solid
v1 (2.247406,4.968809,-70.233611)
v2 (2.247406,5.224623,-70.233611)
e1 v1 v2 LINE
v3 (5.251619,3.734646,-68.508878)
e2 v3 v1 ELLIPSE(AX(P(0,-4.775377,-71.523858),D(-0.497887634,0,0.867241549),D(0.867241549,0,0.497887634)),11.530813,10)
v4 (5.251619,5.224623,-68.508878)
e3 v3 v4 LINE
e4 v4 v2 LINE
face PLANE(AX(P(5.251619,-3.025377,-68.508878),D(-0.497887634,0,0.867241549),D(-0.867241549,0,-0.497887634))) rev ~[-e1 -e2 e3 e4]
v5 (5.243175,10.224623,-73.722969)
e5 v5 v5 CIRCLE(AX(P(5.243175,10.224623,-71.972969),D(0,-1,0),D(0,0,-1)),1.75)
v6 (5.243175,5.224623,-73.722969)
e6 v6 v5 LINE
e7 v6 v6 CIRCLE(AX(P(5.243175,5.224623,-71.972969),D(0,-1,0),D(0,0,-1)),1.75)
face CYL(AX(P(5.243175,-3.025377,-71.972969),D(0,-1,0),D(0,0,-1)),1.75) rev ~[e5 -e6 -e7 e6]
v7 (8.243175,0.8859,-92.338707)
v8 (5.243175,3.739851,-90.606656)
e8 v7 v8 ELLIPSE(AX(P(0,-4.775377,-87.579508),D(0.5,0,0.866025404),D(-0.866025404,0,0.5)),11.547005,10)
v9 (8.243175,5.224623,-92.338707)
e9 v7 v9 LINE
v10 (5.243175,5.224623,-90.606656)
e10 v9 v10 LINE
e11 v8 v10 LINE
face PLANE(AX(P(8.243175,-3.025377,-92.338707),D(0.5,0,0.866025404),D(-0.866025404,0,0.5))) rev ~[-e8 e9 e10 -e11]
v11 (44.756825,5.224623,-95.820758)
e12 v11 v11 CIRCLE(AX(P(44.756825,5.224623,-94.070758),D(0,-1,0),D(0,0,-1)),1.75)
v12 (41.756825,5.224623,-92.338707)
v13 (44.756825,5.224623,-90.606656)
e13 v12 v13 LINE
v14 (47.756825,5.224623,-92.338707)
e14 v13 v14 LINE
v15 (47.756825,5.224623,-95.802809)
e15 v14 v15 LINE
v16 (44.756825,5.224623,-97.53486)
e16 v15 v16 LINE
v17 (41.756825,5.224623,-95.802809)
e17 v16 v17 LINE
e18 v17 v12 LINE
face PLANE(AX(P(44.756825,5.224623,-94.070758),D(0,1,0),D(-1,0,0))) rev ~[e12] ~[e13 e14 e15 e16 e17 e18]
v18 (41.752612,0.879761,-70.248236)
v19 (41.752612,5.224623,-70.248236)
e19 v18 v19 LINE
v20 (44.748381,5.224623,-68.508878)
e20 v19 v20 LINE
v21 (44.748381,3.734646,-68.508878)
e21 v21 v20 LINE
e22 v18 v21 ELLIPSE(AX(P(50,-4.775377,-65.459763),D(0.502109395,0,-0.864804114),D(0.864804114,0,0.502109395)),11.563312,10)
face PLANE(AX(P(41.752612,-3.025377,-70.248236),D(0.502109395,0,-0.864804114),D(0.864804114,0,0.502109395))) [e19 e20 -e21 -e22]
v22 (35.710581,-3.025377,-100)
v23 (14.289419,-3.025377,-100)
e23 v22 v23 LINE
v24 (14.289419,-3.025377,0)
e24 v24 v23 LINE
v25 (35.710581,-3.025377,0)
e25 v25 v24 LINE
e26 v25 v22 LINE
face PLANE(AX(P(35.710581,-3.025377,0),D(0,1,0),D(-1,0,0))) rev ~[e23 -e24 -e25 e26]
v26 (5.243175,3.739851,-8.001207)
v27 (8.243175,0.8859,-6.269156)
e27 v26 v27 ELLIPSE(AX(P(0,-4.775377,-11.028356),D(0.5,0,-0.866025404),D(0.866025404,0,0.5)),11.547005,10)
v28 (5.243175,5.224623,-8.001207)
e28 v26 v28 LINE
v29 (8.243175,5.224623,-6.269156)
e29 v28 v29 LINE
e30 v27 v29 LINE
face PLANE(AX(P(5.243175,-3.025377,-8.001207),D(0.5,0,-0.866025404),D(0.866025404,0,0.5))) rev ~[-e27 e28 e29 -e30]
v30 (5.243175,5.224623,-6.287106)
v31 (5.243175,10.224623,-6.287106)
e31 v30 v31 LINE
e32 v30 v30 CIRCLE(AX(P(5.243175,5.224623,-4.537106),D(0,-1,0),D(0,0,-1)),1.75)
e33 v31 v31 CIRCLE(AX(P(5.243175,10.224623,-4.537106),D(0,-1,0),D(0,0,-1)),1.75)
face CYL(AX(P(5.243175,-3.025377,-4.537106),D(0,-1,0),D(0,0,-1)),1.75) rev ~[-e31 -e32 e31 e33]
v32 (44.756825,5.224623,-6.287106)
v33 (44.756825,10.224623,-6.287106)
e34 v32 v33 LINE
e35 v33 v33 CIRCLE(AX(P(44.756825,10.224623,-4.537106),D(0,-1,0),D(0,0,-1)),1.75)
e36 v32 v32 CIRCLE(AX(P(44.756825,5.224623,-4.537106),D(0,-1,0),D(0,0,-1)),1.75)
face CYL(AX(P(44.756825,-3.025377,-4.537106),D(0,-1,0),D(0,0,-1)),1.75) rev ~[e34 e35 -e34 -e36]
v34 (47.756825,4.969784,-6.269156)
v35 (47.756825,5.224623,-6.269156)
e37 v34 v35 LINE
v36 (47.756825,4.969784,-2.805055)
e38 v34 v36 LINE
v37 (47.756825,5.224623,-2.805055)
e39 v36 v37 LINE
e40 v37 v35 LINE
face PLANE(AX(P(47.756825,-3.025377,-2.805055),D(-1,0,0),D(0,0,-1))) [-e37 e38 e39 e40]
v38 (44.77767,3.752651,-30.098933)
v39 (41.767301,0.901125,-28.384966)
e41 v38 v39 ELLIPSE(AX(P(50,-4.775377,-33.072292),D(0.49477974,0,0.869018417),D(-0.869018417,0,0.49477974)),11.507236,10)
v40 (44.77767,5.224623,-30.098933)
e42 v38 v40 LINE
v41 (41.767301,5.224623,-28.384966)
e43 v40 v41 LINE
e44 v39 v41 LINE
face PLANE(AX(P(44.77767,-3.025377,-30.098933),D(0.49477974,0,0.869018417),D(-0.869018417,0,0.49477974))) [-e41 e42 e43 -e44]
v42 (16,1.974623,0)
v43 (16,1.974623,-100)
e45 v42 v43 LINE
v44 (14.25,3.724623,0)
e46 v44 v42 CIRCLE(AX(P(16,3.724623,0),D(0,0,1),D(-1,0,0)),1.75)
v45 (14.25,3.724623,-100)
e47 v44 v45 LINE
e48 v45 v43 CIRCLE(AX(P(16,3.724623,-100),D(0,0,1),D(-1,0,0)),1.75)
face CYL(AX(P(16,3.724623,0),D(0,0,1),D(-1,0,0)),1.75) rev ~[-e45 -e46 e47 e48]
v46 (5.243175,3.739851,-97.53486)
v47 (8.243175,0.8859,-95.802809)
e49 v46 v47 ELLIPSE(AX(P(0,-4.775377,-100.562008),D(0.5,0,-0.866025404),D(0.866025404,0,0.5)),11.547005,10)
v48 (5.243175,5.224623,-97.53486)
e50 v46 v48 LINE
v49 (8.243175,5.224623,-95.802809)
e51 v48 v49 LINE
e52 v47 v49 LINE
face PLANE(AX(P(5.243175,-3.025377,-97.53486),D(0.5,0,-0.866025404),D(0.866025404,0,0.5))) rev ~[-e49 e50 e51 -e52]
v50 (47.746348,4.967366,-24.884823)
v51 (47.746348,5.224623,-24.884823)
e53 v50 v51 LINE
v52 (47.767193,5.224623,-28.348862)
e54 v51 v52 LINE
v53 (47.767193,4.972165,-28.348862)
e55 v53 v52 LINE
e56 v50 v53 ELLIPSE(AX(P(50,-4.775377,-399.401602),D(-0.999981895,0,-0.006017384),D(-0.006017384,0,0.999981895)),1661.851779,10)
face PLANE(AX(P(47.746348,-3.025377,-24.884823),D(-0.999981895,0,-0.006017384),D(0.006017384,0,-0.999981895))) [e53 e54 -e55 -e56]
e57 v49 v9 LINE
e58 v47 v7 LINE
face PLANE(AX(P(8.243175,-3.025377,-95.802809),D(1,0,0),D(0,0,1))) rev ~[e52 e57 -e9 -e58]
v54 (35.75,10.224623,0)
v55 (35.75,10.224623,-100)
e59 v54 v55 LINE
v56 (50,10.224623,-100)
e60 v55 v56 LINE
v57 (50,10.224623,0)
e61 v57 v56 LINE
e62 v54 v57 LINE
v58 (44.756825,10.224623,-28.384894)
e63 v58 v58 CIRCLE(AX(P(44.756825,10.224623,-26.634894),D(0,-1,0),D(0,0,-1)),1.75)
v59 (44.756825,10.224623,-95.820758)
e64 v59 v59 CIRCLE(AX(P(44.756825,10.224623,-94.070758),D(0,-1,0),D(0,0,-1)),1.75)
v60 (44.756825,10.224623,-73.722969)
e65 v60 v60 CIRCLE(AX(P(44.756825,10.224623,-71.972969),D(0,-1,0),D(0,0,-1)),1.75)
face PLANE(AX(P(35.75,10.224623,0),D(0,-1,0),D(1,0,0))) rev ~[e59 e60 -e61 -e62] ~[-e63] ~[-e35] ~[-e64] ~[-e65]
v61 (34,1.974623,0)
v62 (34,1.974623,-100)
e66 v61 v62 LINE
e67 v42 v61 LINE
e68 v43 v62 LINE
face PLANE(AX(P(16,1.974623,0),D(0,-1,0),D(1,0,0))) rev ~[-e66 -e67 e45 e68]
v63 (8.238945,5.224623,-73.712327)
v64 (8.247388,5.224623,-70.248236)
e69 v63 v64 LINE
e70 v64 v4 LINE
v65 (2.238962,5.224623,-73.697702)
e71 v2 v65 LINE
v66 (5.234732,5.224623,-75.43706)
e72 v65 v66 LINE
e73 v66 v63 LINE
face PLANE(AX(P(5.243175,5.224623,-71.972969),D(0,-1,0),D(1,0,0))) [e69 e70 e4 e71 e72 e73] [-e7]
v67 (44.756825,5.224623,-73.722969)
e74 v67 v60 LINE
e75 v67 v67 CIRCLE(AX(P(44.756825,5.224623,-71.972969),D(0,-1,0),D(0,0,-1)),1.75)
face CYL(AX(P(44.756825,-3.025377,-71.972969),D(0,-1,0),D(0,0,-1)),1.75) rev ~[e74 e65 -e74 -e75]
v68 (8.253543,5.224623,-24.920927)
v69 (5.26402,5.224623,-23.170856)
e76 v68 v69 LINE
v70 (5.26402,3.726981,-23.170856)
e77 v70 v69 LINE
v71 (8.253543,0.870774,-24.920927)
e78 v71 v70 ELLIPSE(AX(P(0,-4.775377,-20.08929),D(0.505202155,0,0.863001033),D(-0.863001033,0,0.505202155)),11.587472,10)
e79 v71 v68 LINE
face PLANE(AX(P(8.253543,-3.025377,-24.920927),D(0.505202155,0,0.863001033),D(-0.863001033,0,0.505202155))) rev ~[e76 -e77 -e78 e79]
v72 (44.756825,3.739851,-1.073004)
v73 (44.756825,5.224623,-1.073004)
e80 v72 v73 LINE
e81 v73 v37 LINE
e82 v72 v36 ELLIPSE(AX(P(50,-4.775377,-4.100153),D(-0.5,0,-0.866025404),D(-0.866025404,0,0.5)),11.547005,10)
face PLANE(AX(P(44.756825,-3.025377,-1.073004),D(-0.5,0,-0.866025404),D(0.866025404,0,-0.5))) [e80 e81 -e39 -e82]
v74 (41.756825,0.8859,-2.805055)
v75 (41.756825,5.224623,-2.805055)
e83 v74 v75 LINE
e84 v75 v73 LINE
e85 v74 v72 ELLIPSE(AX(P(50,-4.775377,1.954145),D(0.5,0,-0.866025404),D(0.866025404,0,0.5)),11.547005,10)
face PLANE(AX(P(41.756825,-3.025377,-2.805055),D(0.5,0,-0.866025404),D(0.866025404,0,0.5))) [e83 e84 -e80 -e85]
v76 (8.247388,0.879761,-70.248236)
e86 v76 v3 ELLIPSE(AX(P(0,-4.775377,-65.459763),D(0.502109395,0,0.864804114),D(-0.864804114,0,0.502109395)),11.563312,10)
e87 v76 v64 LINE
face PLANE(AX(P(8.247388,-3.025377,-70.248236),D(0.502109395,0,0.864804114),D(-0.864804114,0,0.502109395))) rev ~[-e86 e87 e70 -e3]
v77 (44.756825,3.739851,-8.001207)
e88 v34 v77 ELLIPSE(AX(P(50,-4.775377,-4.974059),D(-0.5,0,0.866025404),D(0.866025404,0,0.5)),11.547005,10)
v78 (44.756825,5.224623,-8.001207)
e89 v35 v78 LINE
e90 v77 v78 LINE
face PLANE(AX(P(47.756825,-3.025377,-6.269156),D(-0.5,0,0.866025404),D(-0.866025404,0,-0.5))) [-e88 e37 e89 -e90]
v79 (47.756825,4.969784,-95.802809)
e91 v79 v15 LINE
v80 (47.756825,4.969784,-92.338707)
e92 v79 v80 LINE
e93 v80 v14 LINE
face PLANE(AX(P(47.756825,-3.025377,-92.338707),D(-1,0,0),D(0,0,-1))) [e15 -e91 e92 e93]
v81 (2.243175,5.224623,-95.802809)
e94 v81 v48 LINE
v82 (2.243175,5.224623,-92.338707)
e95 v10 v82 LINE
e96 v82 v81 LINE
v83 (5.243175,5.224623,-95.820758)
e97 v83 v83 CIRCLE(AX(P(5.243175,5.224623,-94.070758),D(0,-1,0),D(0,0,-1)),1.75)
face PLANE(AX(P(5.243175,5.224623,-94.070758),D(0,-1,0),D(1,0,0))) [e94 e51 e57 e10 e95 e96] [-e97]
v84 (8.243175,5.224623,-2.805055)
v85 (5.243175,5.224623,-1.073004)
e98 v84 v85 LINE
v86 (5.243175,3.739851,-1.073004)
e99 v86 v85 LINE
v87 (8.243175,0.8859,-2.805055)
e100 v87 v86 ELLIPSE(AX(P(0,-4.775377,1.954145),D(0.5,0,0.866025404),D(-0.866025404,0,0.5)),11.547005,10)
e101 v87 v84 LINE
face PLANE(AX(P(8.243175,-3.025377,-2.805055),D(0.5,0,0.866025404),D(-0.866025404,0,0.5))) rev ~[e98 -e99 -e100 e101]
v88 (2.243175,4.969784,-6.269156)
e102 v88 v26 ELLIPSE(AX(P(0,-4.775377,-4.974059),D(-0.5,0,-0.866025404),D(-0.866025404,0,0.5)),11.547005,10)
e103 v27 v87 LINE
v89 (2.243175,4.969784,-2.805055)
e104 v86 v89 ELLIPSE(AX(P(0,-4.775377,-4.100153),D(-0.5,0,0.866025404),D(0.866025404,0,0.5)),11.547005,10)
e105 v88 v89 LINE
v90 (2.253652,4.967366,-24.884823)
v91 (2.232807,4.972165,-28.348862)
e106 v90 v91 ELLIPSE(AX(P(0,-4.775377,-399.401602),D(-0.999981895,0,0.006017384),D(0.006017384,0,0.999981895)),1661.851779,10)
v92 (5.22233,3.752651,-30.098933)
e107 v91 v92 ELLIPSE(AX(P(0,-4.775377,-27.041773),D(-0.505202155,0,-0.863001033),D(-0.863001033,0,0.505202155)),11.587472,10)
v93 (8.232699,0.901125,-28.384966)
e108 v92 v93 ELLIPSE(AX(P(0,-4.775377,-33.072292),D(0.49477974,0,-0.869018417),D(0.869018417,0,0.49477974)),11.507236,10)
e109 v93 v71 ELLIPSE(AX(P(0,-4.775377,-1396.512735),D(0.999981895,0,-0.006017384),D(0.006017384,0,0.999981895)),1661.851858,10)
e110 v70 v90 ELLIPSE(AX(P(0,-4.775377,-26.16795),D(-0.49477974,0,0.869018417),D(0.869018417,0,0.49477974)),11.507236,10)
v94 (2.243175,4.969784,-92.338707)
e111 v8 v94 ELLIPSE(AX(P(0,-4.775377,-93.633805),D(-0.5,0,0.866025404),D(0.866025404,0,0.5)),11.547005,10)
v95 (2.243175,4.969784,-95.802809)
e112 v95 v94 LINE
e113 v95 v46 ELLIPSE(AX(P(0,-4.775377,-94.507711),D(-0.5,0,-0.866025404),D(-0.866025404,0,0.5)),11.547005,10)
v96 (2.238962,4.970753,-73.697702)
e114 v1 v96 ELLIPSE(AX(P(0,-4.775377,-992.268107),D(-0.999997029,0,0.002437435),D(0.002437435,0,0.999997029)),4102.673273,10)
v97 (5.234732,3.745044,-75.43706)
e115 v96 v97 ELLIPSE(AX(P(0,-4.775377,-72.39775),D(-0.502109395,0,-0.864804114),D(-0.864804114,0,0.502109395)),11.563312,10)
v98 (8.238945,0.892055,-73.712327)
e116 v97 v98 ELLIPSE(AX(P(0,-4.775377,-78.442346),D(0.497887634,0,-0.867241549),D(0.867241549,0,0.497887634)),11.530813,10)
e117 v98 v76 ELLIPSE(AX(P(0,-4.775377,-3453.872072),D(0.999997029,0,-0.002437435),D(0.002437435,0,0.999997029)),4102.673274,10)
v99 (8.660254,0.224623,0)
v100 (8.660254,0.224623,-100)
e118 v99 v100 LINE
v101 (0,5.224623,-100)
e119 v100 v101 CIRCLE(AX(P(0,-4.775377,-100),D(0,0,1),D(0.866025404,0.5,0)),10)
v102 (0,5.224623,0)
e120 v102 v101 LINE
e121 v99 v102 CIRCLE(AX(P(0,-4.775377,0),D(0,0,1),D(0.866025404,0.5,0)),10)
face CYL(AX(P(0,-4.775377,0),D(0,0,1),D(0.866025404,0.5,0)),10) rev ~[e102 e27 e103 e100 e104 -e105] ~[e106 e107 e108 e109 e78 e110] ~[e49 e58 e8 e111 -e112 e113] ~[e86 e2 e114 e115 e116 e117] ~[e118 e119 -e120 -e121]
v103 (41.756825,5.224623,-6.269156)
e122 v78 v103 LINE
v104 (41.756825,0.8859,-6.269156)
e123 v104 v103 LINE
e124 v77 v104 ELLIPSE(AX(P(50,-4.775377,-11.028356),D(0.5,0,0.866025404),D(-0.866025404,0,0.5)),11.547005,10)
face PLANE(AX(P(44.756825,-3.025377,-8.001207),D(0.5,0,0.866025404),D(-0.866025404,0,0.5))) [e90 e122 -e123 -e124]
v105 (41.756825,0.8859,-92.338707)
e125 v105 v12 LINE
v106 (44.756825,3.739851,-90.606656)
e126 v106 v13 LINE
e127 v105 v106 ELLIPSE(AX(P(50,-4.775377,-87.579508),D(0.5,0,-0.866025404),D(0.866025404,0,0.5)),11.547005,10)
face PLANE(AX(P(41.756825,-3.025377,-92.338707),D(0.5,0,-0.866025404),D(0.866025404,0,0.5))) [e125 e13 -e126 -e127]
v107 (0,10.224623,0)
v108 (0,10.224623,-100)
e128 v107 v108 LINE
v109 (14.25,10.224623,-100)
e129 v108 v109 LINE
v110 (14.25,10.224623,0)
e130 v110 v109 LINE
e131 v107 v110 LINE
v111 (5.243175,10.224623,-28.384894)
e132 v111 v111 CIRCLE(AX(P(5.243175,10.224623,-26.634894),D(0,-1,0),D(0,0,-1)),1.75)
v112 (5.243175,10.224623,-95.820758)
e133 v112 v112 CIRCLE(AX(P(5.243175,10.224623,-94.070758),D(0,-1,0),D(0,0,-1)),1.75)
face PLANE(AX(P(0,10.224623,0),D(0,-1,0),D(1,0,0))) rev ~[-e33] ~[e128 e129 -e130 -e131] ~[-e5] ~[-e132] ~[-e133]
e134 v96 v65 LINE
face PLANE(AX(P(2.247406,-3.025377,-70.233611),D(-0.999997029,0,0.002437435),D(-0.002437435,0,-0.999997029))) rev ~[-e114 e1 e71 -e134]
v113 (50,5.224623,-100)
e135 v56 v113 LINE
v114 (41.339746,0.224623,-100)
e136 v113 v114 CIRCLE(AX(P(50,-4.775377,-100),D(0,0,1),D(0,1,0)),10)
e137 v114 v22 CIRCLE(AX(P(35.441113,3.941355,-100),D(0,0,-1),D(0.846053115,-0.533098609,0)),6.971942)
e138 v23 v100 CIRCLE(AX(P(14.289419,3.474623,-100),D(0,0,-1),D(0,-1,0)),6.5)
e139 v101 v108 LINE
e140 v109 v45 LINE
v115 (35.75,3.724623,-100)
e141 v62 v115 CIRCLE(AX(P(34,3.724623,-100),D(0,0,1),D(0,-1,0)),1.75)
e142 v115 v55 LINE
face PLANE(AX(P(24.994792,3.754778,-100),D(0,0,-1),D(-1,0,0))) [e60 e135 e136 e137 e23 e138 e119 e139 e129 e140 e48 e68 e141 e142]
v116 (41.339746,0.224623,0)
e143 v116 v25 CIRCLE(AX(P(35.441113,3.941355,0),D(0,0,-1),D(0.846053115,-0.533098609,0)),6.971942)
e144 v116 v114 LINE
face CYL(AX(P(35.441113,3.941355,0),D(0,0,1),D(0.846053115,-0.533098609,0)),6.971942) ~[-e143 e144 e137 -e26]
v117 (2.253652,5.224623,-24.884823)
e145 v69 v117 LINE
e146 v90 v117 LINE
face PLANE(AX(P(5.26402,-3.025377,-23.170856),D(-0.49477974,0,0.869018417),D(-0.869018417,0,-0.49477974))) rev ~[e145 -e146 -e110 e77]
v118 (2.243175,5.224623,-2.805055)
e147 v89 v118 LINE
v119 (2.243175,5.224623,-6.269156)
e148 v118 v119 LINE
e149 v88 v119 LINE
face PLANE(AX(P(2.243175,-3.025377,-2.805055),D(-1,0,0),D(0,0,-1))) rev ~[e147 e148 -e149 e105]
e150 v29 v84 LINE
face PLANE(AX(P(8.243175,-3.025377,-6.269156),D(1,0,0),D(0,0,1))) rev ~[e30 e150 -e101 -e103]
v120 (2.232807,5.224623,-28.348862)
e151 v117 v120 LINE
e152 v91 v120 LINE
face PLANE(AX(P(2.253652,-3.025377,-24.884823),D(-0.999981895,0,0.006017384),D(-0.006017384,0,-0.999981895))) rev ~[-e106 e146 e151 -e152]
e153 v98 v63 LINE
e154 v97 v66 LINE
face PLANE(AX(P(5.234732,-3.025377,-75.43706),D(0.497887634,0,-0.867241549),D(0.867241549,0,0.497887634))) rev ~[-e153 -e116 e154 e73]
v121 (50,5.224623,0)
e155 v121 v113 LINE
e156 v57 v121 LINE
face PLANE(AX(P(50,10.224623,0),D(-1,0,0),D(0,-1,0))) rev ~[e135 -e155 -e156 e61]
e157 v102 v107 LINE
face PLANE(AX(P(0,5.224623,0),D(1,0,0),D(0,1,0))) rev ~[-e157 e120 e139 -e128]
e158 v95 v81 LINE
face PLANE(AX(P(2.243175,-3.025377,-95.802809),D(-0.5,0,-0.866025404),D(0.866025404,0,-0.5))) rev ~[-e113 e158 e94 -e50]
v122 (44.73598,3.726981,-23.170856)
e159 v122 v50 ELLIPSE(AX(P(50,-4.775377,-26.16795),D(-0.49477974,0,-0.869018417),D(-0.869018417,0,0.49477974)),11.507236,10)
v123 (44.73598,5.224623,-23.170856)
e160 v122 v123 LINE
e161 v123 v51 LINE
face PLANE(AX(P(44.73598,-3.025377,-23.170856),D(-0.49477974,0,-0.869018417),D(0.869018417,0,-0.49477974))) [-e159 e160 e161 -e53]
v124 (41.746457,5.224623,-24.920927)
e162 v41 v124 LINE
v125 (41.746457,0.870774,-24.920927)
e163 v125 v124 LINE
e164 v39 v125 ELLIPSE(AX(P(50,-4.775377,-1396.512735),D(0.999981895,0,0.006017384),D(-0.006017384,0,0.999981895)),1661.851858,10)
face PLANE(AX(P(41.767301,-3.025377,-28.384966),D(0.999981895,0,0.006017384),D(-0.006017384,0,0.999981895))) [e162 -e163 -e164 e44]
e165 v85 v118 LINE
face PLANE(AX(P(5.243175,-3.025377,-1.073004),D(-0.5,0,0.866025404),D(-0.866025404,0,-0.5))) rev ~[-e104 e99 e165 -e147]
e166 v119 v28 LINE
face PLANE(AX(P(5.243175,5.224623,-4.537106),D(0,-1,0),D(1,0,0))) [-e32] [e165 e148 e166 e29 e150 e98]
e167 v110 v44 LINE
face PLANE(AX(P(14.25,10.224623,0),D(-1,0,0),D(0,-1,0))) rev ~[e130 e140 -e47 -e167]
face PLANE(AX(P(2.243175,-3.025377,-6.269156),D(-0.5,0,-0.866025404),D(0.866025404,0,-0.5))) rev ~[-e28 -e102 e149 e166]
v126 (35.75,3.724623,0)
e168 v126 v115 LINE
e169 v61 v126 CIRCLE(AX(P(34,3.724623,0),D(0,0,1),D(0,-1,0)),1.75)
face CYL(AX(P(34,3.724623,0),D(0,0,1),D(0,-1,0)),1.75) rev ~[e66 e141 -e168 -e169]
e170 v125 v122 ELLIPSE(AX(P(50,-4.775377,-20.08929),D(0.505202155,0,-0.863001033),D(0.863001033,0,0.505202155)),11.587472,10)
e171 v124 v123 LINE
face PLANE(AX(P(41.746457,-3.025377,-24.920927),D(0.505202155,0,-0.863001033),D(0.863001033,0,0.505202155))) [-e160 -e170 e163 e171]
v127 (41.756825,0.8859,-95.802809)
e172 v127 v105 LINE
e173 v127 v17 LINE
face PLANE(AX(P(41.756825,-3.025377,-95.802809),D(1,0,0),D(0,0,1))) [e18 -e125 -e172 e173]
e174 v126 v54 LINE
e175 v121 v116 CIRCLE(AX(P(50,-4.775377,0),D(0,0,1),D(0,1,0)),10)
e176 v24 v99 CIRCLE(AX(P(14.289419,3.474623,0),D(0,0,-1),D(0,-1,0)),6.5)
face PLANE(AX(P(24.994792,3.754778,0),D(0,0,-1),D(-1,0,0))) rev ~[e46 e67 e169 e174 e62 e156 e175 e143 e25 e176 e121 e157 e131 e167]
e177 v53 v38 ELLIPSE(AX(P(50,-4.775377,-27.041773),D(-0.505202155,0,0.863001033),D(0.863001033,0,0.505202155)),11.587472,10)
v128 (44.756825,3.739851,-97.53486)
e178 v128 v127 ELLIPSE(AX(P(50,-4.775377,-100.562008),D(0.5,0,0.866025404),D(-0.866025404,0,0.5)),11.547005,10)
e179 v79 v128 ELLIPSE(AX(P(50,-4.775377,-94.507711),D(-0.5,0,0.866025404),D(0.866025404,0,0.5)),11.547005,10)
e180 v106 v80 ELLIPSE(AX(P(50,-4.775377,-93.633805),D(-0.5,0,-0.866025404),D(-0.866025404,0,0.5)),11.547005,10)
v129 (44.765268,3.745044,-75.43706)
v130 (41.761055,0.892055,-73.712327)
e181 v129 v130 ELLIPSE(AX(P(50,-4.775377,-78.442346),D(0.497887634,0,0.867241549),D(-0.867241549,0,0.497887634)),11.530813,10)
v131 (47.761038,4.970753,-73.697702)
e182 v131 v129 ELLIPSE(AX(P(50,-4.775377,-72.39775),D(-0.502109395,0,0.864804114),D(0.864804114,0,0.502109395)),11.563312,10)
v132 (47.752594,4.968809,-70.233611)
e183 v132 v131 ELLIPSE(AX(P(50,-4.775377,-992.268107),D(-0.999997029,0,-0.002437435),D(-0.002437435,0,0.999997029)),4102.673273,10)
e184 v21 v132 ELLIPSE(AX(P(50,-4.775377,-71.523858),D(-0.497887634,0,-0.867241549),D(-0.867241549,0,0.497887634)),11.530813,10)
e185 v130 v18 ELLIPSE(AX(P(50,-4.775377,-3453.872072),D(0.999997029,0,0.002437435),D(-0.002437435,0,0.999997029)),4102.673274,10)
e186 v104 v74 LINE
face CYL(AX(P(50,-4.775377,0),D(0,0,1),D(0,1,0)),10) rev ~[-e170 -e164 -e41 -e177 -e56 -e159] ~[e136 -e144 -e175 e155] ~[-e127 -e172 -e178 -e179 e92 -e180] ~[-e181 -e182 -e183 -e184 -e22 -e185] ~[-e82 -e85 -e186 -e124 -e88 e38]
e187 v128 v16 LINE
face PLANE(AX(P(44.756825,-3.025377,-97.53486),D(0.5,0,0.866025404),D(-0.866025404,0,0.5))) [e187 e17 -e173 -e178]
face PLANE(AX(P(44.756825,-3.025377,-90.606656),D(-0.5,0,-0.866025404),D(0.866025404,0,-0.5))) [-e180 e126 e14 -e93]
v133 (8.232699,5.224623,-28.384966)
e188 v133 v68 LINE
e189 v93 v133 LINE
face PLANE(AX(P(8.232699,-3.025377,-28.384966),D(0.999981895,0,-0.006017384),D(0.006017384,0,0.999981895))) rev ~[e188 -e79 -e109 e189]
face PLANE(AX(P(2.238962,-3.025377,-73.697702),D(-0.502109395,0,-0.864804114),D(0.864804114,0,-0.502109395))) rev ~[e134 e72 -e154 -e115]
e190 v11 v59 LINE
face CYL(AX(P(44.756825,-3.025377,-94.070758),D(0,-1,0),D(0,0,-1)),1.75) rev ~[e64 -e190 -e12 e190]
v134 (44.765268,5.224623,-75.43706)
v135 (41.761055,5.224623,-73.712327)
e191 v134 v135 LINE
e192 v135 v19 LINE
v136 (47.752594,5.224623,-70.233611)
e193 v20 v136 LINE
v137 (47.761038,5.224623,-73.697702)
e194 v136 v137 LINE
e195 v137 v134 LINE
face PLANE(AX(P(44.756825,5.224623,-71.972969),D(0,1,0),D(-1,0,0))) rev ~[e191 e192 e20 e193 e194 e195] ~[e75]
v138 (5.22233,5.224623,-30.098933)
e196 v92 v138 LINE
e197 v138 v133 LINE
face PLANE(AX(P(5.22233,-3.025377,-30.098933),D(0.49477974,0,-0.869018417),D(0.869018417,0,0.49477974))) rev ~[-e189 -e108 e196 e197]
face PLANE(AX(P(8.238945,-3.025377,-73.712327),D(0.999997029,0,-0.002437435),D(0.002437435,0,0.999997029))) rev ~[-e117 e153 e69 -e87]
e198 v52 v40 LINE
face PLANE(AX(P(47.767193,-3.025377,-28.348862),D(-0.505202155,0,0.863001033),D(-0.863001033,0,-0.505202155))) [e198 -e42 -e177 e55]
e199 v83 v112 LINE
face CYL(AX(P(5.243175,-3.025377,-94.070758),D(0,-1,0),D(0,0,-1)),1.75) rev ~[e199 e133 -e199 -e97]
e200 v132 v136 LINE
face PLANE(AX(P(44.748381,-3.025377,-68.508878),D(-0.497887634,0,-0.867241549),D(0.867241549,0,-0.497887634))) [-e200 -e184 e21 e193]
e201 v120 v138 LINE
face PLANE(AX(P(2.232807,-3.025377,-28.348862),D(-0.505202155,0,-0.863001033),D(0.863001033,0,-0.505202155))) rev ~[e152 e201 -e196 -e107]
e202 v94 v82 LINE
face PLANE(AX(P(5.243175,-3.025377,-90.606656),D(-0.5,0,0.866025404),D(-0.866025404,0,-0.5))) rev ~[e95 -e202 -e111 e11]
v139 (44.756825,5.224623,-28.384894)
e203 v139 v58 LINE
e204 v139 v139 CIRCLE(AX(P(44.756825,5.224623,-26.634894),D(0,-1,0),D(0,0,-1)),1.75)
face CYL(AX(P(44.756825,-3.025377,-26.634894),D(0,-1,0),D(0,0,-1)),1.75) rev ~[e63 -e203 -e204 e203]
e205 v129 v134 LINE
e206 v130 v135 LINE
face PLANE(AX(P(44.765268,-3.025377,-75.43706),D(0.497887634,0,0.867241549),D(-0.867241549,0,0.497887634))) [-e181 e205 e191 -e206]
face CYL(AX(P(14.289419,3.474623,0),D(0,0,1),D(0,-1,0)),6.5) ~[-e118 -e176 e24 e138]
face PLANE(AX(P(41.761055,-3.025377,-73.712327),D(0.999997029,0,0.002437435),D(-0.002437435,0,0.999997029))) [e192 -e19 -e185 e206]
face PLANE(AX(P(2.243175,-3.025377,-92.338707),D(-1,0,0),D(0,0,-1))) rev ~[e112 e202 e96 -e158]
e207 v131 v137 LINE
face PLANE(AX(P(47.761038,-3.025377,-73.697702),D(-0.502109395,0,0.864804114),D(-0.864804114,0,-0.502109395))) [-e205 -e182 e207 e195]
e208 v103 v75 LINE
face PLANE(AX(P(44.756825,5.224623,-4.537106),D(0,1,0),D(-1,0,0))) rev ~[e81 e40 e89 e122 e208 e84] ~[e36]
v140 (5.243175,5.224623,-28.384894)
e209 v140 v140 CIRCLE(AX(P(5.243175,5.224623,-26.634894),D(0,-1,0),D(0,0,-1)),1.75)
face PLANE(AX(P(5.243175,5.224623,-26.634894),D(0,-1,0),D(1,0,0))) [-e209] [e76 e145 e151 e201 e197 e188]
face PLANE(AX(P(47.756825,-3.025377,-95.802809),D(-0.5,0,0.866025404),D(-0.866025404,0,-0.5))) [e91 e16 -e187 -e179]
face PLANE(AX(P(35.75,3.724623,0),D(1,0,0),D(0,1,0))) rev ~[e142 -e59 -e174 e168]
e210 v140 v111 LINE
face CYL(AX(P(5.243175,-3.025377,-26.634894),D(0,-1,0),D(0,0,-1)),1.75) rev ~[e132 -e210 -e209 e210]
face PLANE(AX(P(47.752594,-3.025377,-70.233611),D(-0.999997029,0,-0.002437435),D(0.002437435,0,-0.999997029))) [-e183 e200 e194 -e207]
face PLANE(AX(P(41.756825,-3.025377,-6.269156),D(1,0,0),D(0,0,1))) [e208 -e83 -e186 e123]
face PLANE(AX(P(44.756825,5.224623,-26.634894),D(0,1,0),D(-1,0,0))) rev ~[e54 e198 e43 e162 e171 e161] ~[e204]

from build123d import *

# Parameters (mm, degrees)
BOSS_EXTRUDE1_DEPTH = 100
SKETCH2_R           = 1.75
CUT_EXTRUDE1_DEPTH  = 113.585800614
CUT_EXTRUDE2_DEPTH  = 8.25


with BuildPart() as part:
    # Sketch1 → Boss-Extrude1 (new body)
    with BuildSketch(Plane.XY):
        with BuildLine():
            Line((50, 10.224622738), (50, 5.224622738))
            ThreePointArc((50, 5.224622738), (45, 3.884876776), (41.339745962, 0.224622738))
            ThreePointArc((41.339745962, 0.224622738), (38.927083678, -2.096523604), (35.710580838, -3.025377262))
            Line((35.710580838, -3.025377262), (14.289419162, -3.025377262))
            ThreePointArc((14.289419162, -3.025377262), (11.039419162, -2.154542386), (8.660254038, 0.224622738))
            ThreePointArc((8.660254038, 0.224622738), (5, 3.884876776), (0, 5.224622738))
            Line((0, 5.224622738), (0, 10.224622738))
            Line((0, 10.224622738), (14.25, 10.224622738))
            Line((14.25, 10.224622738), (14.25, 3.724622738))
            ThreePointArc((14.25, 3.724622738), (14.762563133, 2.487185871), (16, 1.974622738))
            Line((16, 1.974622738), (34, 1.974622738))
            ThreePointArc((34, 1.974622738), (35.237436867, 2.487185871), (35.75, 3.724622738))
            Line((35.75, 3.724622738), (35.75, 10.224622738))
            Line((35.75, 10.224622738), (50, 10.224622738))
        make_face()
    extrude(amount=-BOSS_EXTRUDE1_DEPTH)

    # Sketch2 → Cut-Extrude1 (cut, through all)
    with BuildSketch(Plane.XZ.offset(3.025377262)):
        with Locations(Location((44.756824718, -26.634894448, 0), (0, 0, 270))):
            Circle(SKETCH2_R)
        with Locations(Location((44.756824718, -4.537105649, 0), (0, 0, 270))):
            Circle(SKETCH2_R)
        with Locations(Location((44.756824718, -71.972969116, 0), (0, 0, 270))):
            Circle(SKETCH2_R)
        with Locations(Location((44.756824718, -94.070757915, 0), (0, 0, 270))):
            Circle(SKETCH2_R)
        with Locations(Location((5.243175282, -71.972969116, 0), (0, 0, 270))):
            Circle(SKETCH2_R)
        with Locations(Location((5.243175282, -94.070757915, 0), (0, 0, 270))):
            Circle(SKETCH2_R)
        with Locations(Location((5.243175282, -26.634894448, 0), (0, 0, 270))):
            Circle(SKETCH2_R)
        with Locations(Location((5.243175282, -4.537105649, 0), (0, 0, 270))):
            Circle(SKETCH2_R)
    extrude(amount=-CUT_EXTRUDE1_DEPTH, mode=Mode.SUBTRACT)

    # Sketch3 → Cut-Extrude2 (cut)
    with BuildSketch(Plane.XZ.offset(3.025377262)):
        Polygon((8.243175282, -2.805054841), (5.243175282, -1.073004033), (2.243175282, -2.805054841), (2.243175282, -6.269156456), (5.243175282, -8.001207264), (8.243175282, -6.269156456), align=None)
        Polygon((5.264020111, -23.170855549), (2.25365201, -24.884822847), (2.232807181, -28.348861746), (5.222330453, -30.098933346), (8.232698554, -28.384966048), (8.253543382, -24.920927149), align=None)
        Polygon((41.746456618, -24.920927149), (44.735979889, -23.170855549), (47.74634799, -24.884822847), (47.767192819, -28.348861746), (44.777669547, -30.098933346), (41.767301446, -28.384966048), align=None)
        Polygon((41.756824718, -6.269156456), (41.756824718, -2.805054841), (44.756824718, -1.073004033), (47.756824718, -2.805054841), (47.756824718, -6.269156456), (44.756824718, -8.001207264), align=None)
        Polygon((41.756824718, -92.338707108), (44.756824718, -90.6066563), (47.756824718, -92.338707108), (47.756824718, -95.802808723), (44.756824718, -97.534859531), (41.756824718, -95.802808723), align=None)
        Polygon((5.251618805, -68.508877791), (2.247405955, -70.233611149), (2.238962432, -73.697702473), (5.234731759, -75.437060441), (8.238944609, -73.712327084), (8.247388132, -70.248235759), align=None)
        Polygon((5.243175282, -90.6066563), (2.243175282, -92.338707108), (2.243175282, -95.802808723), (5.243175282, -97.534859531), (8.243175282, -95.802808723), (8.243175282, -92.338707108), align=None)
        Polygon((41.752611868, -70.248235759), (44.748381195, -68.508877791), (47.752594045, -70.233611149), (47.761037568, -73.697702473), (44.765268241, -75.437060441), (41.761055391, -73.712327084), align=None)
    extrude(amount=-CUT_EXTRUDE2_DEPTH, mode=Mode.SUBTRACT)


solid = part.part
